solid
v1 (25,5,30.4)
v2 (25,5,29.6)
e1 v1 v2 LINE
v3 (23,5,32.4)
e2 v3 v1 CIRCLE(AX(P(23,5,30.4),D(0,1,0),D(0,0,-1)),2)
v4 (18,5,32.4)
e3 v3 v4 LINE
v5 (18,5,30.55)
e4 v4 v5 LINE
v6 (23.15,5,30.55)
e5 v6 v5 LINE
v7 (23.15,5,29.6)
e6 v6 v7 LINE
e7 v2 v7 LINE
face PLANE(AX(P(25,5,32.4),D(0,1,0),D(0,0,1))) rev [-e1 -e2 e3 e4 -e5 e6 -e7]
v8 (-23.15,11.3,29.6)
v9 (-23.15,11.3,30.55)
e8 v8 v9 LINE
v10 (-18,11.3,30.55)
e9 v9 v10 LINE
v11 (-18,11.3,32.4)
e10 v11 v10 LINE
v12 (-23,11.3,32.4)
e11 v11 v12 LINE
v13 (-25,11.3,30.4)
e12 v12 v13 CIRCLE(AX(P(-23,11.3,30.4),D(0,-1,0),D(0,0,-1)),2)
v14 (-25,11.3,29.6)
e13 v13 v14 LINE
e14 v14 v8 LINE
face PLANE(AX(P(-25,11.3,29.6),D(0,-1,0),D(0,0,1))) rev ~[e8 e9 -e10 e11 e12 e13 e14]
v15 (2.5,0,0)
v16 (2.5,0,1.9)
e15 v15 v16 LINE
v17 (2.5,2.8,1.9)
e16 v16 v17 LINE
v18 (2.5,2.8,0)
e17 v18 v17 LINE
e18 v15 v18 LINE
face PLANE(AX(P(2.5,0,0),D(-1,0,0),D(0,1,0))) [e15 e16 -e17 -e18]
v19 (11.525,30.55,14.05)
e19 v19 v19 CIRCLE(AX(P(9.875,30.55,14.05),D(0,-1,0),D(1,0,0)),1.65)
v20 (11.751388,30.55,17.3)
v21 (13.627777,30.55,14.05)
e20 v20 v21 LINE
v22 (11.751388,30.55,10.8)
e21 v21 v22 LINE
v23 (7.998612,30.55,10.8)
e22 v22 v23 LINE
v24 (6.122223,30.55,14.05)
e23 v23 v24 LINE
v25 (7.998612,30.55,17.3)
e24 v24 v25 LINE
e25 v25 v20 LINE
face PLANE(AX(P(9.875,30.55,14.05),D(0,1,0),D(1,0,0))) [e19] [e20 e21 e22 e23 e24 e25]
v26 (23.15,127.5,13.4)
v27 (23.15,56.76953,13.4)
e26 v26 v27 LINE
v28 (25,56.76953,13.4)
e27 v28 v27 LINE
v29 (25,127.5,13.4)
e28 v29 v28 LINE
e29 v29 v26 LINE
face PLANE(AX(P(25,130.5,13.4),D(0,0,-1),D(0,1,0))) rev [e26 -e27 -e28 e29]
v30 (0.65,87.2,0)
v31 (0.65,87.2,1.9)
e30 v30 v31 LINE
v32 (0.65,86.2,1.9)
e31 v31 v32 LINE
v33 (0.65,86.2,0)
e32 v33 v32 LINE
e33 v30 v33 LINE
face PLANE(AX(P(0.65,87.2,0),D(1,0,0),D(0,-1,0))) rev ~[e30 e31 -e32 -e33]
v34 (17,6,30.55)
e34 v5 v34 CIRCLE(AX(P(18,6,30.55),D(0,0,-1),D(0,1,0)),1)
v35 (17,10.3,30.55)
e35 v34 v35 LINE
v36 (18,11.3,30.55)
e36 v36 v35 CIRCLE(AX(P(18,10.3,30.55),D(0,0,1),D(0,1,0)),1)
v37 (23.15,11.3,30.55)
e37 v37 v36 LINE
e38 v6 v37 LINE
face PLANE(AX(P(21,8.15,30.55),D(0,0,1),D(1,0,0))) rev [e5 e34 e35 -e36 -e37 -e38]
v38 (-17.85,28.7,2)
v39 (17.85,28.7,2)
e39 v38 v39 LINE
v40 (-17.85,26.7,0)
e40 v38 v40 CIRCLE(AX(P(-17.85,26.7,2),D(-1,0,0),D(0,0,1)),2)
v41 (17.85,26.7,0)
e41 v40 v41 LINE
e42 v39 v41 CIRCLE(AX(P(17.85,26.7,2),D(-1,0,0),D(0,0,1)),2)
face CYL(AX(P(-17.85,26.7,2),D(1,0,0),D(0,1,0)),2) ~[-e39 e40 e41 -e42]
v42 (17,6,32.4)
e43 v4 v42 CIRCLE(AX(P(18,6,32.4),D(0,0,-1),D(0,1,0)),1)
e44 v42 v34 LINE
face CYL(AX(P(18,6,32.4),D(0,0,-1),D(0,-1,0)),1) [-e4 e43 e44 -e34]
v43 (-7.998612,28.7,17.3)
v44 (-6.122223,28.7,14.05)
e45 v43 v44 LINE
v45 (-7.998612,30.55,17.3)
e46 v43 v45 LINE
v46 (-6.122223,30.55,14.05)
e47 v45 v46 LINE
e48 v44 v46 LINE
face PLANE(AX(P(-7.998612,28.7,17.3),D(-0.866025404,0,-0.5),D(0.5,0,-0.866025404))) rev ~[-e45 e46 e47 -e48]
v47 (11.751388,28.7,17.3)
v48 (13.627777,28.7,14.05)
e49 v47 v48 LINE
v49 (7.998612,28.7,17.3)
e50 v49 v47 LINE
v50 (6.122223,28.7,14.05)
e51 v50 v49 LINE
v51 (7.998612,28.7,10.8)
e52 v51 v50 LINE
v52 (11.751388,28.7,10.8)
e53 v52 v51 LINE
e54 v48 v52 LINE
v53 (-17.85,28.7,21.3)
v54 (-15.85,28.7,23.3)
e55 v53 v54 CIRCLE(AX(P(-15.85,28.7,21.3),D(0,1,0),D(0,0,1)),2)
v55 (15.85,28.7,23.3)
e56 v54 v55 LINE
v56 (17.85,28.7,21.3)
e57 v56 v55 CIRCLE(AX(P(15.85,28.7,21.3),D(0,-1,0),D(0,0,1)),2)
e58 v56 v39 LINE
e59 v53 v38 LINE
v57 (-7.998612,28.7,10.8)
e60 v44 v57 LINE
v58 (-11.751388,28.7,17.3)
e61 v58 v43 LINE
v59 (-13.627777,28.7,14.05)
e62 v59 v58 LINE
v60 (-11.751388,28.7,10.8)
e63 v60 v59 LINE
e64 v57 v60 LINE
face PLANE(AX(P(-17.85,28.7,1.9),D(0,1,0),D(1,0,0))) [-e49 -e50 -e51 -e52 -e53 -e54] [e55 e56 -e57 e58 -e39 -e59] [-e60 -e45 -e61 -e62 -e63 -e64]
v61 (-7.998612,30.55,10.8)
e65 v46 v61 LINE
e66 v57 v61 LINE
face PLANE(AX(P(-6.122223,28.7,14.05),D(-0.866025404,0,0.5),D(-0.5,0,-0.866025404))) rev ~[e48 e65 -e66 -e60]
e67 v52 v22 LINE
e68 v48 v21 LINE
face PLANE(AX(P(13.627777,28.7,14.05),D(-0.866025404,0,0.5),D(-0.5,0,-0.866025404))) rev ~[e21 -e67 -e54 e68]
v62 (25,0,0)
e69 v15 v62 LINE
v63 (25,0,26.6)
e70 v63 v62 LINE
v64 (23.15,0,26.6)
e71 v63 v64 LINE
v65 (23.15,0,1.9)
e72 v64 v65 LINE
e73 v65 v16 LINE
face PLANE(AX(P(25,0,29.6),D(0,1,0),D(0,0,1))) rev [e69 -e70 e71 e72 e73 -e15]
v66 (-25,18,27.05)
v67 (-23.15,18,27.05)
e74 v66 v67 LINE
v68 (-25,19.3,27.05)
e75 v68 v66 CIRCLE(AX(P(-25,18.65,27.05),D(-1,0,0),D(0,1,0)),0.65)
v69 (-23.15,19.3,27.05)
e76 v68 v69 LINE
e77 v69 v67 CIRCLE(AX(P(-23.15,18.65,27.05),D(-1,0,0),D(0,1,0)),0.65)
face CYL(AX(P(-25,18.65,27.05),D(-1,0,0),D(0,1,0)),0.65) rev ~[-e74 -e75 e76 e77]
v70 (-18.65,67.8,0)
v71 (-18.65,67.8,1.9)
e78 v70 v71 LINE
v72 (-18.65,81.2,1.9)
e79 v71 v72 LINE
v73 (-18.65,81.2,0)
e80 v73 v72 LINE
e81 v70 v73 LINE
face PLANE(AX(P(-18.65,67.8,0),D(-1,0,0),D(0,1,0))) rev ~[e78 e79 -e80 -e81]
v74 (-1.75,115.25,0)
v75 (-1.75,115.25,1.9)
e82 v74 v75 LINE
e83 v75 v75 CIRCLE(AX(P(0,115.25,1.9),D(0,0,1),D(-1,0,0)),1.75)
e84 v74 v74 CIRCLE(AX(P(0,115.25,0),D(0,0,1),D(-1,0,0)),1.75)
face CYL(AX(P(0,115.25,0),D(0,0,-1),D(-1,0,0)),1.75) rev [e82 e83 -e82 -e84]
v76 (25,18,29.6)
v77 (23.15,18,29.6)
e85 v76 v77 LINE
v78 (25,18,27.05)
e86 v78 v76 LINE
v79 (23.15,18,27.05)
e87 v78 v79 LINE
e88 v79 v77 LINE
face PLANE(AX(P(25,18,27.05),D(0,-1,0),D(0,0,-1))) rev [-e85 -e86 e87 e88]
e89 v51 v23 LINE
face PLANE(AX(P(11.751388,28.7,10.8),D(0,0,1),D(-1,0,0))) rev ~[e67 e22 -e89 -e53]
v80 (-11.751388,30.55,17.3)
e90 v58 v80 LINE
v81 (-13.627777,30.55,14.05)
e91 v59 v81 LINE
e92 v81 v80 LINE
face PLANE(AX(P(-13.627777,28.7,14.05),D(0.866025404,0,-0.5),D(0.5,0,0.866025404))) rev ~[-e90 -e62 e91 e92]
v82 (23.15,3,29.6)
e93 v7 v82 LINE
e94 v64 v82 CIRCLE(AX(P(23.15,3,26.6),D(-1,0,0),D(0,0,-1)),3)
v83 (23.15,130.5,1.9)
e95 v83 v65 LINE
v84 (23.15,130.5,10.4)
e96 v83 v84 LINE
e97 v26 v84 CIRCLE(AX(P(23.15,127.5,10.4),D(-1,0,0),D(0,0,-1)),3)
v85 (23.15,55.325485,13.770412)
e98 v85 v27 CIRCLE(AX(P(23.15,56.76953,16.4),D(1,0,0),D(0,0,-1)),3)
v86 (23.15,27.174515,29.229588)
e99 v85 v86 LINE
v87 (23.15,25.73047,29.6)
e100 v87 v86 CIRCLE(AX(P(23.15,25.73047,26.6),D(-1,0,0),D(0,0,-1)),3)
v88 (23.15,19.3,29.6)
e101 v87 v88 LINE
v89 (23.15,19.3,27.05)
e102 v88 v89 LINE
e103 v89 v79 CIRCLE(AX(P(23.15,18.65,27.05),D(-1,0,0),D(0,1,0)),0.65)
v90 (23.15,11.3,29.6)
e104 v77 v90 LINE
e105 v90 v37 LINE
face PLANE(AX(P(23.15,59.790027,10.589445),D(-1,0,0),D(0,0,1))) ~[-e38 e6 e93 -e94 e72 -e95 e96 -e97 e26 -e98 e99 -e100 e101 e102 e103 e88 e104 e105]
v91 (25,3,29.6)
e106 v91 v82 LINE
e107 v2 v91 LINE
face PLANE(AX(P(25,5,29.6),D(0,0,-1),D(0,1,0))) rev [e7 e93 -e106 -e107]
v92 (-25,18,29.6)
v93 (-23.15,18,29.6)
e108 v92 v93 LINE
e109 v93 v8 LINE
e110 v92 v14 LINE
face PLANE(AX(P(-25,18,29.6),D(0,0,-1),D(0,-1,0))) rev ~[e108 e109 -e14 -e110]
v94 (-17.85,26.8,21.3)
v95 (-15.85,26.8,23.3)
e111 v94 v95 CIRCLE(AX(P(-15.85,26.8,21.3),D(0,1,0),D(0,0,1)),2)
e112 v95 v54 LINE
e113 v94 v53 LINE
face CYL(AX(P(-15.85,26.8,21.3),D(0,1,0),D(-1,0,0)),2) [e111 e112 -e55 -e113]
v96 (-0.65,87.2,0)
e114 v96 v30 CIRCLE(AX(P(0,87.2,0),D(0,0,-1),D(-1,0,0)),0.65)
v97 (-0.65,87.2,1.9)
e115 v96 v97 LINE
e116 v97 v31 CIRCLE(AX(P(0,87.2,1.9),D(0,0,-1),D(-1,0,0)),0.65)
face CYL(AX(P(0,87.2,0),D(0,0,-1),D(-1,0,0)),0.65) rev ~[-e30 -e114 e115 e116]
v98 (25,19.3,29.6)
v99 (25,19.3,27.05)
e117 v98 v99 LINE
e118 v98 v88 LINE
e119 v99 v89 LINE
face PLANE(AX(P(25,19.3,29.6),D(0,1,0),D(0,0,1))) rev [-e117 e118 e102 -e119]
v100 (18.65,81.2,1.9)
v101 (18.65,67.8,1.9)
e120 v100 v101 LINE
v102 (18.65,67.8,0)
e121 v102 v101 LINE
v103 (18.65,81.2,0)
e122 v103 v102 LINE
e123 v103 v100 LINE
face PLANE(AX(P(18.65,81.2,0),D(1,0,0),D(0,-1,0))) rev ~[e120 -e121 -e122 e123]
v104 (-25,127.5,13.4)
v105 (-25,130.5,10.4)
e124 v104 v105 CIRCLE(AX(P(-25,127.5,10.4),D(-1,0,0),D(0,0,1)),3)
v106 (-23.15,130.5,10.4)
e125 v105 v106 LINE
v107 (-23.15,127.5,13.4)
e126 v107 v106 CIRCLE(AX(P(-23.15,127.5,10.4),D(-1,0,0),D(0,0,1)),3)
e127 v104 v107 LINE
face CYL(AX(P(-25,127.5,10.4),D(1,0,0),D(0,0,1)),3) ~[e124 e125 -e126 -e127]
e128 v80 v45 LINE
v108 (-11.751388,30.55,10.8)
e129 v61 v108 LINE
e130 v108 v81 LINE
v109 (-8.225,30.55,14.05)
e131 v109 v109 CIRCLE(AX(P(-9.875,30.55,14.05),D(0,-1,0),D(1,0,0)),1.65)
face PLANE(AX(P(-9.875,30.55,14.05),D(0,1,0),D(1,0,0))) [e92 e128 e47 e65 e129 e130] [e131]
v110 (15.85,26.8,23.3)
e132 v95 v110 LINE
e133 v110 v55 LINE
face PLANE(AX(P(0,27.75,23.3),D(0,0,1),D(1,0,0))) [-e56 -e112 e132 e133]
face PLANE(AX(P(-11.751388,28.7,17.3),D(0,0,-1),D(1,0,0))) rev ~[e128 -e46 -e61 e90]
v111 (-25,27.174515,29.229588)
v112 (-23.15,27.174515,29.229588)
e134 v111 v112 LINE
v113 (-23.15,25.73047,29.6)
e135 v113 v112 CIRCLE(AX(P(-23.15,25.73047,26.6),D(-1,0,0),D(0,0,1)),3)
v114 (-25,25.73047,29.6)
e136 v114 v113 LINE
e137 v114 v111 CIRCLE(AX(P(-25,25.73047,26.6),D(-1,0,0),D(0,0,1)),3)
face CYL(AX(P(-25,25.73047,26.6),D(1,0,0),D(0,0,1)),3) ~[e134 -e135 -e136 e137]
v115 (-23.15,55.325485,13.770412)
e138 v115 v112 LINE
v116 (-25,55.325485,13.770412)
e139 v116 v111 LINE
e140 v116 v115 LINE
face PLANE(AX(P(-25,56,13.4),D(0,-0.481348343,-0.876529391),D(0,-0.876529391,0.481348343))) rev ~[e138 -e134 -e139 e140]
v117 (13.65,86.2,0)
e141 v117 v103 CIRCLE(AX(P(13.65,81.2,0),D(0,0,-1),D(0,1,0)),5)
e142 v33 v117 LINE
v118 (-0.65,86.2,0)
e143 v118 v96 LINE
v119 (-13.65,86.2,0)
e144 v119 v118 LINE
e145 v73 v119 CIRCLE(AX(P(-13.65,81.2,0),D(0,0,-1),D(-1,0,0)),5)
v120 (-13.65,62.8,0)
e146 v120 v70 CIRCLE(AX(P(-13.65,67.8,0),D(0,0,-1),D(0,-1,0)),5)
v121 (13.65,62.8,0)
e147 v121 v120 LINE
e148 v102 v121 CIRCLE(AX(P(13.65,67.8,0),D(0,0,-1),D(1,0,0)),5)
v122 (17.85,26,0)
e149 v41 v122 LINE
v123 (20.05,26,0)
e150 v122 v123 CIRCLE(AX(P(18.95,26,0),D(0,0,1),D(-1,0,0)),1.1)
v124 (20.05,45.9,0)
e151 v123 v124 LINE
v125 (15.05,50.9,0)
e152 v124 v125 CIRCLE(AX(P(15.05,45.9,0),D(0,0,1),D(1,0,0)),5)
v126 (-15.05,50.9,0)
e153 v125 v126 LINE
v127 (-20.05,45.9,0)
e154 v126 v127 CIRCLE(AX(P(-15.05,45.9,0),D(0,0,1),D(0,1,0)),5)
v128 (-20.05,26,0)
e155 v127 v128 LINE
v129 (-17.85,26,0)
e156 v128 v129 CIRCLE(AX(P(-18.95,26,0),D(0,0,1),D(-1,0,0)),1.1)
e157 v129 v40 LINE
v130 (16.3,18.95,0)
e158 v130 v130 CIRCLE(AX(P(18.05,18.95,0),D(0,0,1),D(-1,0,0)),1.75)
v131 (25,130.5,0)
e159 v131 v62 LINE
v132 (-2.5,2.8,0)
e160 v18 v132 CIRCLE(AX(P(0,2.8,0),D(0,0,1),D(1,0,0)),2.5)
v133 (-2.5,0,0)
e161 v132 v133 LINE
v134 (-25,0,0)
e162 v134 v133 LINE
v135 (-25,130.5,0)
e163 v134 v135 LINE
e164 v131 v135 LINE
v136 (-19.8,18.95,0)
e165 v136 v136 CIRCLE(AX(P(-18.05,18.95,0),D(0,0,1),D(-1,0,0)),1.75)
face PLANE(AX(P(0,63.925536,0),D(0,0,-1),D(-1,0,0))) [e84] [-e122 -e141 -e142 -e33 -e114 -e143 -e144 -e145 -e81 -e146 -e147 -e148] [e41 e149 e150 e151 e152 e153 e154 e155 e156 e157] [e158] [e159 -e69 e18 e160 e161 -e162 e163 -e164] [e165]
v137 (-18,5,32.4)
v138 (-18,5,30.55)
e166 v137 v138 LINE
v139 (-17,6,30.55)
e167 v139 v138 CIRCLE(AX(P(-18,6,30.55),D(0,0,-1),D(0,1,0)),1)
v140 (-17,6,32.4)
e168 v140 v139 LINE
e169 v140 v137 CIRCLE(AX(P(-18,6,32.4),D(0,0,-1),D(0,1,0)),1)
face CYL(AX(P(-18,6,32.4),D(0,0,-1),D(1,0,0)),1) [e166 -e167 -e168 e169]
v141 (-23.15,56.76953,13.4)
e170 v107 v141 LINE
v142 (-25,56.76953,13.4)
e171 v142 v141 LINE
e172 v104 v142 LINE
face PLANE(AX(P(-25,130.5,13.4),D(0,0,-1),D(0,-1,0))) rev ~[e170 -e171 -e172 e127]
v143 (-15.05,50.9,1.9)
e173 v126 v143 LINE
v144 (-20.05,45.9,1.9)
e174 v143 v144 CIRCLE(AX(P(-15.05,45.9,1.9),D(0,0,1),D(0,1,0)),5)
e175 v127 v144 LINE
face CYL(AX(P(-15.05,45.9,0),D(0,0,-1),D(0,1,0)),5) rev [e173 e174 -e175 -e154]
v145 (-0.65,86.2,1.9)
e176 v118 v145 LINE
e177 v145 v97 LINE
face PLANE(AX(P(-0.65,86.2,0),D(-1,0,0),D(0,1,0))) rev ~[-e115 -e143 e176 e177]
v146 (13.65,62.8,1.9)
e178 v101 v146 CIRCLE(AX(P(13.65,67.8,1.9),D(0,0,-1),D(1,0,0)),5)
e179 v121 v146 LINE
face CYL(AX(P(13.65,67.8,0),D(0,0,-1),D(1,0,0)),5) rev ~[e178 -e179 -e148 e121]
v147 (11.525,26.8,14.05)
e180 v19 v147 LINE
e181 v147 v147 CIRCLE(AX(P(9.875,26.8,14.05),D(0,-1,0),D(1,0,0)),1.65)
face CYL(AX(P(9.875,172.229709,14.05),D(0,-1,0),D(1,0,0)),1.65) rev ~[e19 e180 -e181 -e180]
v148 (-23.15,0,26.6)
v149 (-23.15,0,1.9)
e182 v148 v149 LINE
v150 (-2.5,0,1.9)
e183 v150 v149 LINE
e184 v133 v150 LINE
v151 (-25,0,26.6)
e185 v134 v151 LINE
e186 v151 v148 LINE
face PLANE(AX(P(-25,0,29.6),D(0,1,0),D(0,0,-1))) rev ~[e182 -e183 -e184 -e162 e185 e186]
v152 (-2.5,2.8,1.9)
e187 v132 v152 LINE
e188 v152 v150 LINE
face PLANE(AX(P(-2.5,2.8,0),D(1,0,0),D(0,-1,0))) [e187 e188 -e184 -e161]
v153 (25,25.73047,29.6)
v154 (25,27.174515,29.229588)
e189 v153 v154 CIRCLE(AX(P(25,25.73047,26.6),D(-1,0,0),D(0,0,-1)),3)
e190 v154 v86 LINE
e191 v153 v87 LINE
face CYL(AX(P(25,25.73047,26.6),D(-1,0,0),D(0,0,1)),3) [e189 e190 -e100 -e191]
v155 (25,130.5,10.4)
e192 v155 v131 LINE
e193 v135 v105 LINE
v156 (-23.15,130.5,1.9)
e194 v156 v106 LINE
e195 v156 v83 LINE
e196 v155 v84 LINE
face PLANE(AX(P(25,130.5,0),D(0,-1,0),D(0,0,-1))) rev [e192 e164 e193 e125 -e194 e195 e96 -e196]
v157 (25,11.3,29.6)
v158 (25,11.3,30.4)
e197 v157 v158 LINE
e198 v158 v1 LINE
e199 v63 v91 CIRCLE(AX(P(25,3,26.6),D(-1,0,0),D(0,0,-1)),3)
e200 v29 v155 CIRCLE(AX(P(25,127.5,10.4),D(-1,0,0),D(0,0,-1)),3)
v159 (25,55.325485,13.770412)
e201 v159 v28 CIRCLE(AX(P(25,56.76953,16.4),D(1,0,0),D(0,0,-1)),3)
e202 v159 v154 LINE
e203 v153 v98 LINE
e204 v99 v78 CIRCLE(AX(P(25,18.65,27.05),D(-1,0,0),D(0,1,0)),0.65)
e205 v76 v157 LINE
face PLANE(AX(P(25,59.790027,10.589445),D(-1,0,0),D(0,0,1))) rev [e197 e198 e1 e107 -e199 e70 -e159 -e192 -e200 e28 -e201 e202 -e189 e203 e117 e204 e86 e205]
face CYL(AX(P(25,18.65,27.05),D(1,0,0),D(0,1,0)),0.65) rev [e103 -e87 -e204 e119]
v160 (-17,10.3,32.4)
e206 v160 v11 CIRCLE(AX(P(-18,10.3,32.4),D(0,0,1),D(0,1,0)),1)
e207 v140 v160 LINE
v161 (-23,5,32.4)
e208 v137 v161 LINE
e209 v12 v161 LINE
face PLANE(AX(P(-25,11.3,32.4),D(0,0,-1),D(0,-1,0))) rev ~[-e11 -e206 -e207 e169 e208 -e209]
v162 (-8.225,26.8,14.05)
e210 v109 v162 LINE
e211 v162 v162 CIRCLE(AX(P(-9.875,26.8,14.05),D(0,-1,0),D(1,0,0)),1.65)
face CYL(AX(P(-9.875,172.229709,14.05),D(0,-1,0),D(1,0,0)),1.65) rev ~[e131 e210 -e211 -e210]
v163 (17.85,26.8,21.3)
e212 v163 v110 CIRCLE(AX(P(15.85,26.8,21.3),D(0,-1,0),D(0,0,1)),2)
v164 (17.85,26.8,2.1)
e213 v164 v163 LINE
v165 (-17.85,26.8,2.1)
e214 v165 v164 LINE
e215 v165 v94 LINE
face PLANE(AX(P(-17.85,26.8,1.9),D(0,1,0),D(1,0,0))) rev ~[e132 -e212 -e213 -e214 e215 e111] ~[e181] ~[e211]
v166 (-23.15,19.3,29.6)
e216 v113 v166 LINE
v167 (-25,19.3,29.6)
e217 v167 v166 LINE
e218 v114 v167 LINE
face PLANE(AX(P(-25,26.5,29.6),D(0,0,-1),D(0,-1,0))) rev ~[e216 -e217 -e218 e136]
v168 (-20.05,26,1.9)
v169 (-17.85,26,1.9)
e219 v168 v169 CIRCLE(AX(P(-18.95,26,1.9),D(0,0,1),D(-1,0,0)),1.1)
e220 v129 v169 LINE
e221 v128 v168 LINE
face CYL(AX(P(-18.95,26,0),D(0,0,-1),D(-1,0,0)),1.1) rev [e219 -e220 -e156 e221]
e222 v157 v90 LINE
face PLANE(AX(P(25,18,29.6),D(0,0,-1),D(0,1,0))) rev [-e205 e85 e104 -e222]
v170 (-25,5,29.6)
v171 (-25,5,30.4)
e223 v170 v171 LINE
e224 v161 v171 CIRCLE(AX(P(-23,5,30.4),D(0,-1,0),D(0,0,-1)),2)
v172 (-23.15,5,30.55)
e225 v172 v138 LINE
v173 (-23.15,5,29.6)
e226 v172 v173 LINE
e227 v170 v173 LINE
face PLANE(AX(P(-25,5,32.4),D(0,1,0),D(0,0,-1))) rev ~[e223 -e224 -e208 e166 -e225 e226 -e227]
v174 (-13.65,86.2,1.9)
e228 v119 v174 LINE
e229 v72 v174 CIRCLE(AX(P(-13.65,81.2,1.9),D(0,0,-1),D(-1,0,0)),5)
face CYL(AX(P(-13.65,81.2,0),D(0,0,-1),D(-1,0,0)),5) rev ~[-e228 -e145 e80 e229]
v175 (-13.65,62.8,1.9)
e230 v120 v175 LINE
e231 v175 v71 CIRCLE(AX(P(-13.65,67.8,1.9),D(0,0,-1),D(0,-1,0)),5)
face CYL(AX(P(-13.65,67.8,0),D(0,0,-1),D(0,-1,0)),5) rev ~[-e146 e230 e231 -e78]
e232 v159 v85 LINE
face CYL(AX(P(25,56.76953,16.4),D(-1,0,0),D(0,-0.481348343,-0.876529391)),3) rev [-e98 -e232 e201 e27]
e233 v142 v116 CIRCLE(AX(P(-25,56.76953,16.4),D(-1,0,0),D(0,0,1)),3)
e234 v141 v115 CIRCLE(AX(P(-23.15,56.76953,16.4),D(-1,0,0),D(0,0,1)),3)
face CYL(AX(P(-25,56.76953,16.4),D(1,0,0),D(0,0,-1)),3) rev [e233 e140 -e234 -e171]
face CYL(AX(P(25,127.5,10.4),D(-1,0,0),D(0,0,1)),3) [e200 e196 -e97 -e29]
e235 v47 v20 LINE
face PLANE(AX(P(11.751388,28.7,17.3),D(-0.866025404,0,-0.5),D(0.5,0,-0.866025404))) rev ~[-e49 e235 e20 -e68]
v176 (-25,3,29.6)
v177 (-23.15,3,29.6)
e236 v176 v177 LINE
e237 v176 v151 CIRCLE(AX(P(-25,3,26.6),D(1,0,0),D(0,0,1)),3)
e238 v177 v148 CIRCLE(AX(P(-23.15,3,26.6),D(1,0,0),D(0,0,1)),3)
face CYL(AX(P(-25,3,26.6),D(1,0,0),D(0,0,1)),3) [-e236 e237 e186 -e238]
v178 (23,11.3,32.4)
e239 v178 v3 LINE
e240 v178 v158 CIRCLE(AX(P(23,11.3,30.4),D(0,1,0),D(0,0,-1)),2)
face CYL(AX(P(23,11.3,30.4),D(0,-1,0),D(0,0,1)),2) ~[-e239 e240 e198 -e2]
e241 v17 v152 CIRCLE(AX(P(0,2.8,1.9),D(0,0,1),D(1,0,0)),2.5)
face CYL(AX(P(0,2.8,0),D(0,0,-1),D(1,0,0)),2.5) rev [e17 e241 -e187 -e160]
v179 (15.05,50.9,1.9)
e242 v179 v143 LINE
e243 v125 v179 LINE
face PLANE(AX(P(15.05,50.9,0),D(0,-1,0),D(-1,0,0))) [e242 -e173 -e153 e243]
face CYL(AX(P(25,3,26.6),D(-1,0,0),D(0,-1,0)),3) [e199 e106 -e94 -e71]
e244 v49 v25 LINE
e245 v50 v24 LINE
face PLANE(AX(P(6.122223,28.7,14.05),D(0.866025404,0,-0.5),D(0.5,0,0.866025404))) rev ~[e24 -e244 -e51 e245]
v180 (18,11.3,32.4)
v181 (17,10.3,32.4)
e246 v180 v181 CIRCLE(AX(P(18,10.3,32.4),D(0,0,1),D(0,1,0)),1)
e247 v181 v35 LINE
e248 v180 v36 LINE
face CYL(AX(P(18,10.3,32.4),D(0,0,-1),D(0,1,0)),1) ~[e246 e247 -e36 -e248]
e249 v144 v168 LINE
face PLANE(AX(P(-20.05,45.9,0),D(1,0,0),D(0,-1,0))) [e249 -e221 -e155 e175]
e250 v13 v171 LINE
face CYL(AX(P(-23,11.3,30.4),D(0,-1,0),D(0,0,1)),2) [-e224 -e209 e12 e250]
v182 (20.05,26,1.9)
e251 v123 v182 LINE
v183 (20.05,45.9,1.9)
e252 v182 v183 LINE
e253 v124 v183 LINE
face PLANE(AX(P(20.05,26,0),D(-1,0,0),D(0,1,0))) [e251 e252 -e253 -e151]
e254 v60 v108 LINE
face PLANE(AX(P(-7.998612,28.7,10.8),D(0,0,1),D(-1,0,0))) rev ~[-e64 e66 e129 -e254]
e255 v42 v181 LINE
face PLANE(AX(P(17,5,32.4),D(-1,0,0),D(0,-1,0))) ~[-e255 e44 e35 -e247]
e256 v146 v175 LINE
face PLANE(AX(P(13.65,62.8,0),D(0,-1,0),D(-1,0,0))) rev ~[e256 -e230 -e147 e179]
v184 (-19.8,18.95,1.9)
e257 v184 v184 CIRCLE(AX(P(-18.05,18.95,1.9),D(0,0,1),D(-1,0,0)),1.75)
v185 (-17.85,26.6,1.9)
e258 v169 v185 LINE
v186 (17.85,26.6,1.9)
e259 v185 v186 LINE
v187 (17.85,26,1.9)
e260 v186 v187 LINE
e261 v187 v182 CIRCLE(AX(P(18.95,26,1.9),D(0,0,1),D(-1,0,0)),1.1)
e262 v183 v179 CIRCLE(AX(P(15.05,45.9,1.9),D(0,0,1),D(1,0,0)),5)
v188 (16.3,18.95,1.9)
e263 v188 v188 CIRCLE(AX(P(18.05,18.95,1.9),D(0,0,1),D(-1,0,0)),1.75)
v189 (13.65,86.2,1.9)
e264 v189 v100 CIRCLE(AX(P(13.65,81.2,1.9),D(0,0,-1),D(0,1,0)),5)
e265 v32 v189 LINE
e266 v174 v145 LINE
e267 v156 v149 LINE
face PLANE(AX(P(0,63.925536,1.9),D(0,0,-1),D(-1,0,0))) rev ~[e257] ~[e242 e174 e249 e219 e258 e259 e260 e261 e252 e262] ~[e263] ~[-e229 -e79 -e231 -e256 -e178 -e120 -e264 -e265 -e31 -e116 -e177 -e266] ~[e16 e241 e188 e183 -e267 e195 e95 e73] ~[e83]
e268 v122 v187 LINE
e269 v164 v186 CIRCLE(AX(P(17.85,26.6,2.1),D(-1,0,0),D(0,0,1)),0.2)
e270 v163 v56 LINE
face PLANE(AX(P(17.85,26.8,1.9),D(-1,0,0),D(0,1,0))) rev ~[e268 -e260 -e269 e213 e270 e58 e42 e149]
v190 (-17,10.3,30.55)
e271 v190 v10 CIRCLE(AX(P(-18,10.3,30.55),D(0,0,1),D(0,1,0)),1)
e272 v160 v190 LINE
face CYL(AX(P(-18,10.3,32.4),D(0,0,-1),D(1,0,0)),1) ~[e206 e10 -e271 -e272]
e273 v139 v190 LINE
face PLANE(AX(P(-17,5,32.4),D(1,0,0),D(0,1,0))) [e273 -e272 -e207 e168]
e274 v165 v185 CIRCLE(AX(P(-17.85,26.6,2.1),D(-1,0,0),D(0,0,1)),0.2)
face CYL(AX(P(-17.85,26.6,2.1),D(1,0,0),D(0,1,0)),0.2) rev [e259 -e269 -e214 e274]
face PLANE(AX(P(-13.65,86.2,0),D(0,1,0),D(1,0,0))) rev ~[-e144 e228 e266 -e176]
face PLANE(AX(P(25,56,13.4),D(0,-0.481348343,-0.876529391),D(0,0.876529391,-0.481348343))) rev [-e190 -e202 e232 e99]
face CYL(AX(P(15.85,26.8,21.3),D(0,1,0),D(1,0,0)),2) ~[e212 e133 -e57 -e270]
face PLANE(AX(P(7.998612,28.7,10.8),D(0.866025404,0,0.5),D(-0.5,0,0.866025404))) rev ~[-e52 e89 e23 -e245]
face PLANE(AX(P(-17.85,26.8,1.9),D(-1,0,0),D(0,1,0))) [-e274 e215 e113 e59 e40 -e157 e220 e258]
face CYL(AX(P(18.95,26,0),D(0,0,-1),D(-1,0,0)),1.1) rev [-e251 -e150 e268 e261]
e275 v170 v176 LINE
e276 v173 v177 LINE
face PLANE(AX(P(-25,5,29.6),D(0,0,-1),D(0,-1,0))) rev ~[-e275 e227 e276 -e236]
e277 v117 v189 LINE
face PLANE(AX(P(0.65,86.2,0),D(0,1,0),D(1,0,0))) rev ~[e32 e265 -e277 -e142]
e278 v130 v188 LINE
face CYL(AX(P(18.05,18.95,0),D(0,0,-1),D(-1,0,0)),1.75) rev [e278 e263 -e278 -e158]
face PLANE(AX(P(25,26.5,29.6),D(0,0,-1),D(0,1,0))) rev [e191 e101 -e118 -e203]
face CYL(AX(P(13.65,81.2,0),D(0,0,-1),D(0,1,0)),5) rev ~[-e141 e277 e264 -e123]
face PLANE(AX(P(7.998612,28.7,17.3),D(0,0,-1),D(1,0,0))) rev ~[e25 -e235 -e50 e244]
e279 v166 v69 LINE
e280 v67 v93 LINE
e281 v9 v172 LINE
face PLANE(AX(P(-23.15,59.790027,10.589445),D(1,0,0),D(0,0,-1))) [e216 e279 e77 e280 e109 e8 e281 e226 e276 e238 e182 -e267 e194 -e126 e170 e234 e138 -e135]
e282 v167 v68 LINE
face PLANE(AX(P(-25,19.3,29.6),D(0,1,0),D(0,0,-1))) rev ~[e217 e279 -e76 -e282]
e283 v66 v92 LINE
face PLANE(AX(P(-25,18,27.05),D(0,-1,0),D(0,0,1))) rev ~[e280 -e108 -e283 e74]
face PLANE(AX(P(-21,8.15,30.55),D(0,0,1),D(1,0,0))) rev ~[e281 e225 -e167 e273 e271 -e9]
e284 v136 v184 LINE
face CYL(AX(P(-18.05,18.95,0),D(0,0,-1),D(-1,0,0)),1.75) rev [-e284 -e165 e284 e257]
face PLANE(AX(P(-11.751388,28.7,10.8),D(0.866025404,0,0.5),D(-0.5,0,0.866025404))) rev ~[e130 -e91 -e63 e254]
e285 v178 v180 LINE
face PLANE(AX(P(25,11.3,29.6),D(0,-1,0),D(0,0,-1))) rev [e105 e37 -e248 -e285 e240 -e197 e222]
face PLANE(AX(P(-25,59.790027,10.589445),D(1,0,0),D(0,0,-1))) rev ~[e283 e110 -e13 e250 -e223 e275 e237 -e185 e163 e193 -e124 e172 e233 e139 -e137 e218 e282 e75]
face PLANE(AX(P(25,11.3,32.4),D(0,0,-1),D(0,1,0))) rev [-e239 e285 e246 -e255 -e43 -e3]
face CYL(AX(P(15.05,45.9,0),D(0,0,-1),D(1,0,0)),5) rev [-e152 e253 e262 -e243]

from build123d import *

# Parameters (mm, degrees)
ESQUISSE1_R           = 1.75
BOSS_EXTRU_1_DEPTH    = 1.9
ESQUISSE2_W           = 35.7
ESQUISSE2_H           = 1.9
BOSS_EXTRU_2_DEPTH    = 21.4
CONG_1_R              = 2
CONG_2_R              = 0.2
CONG_3_R              = 2
BOSS_EXTRU_3_DEPTH    = 1.85
TROU_TARAUD_M41_D     = 3.3
BOSS_EXTRU_4_DEPTH    = 1.85
CONG_4_R              = 3
ESQUISSE7_W           = 8
ESQUISSE7_H           = 6.3
BOSS_EXTRU_5_DEPTH    = 1.85
CONG_5_R              = 1
CONG_6_R              = 2
CONG_4_OF_SYM_TRIE1_R = 3
CONG_5_OF_SYM_TRIE1_R = 1
CONG_6_OF_SYM_TRIE1_R = 2


with BuildPart() as part:
    # Esquisse1 → Boss.-Extru.1 (new body)
    with BuildSketch(Plane.XY):
        with BuildLine():
            Line((25, 0), (2.5, 0))
            Line((2.5, 0), (2.5, 2.8))
            ThreePointArc((2.5, 2.8), (0, 5.3), (-2.5, 2.8))
            Line((-2.5, 2.8), (-2.5, 0))
            Line((-2.5, 0), (-25, 0))
            Line((-25, 0), (-25, 130.5))
            Line((-25, 130.5), (25, 130.5))
            Line((25, 130.5), (25, 0))
        make_face()
        with Locations(Location((-18.05, 18.95, 0), (0, 0, 180))):
            Circle(ESQUISSE1_R, mode=Mode.SUBTRACT)
        with Locations(Location((18.05, 18.95, 0), (0, 0, 180))):
            Circle(ESQUISSE1_R, mode=Mode.SUBTRACT)
        with Locations(Location((0, 115.25, 0), (0, 0, 180))):
            Circle(ESQUISSE1_R, mode=Mode.SUBTRACT)
        with BuildLine():
            Line((-17.85, 26), (-17.85, 28.7))
            Line((-17.85, 28.7), (17.85, 28.7))
            Line((17.85, 28.7), (17.85, 26))
            ThreePointArc((17.85, 26), (18.95, 24.9), (20.05, 26))
            Line((20.05, 26), (20.05, 45.9))
            ThreePointArc((20.05, 45.9), (18.585533906, 49.435533906), (15.05, 50.9))
            Line((15.05, 50.9), (-15.05, 50.9))
            ThreePointArc((-15.05, 50.9), (-18.585533906, 49.435533906), (-20.05, 45.9))
            Line((-20.05, 45.9), (-20.05, 26))
            ThreePointArc((-20.05, 26), (-18.95, 24.9), (-17.85, 26))
        make_face(mode=Mode.SUBTRACT)
        with BuildLine():
            Line((-13.65, 86.2), (-0.65, 86.2))
            Line((-0.65, 86.2), (-0.65, 87.2))
            ThreePointArc((-0.65, 87.2), (0, 87.85), (0.65, 87.2))
            Line((0.65, 87.2), (0.65, 86.2))
            Line((0.65, 86.2), (13.65, 86.2))
            ThreePointArc((13.65, 86.2), (17.185533906, 84.735533906), (18.65, 81.2))
            Line((18.65, 81.2), (18.65, 67.8))
            ThreePointArc((18.65, 67.8), (17.185533906, 64.264466094), (13.65, 62.8))
            Line((13.65, 62.8), (-13.65, 62.8))
            ThreePointArc((-13.65, 62.8), (-17.185533906, 64.264466094), (-18.65, 67.8))
            Line((-18.65, 67.8), (-18.65, 81.2))
            ThreePointArc((-18.65, 81.2), (-17.185533906, 84.735533906), (-13.65, 86.2))
        make_face(mode=Mode.SUBTRACT)
    extrude(amount=BOSS_EXTRU_1_DEPTH)

    # Esquisse2 → Boss.-Extru.2 (add)
    with BuildSketch(Plane.XY.offset(1.9)):
        with Locations((0, 27.75)):
            Rectangle(ESQUISSE2_W, ESQUISSE2_H)
    extrude(amount=BOSS_EXTRU_2_DEPTH)

    # Congé1
    cong_1_edges = [part.edges().sort_by_distance(p)[0] for p in [
        (-17.85, 27.75, 23.3),
        (17.85, 27.75, 23.3),
    ]]
    fillet(cong_1_edges, radius=CONG_1_R)

    # Congé2
    cong_2_edges = [part.edges().sort_by_distance(p)[0] for p in [
        (0, 26.8, 1.9),
    ]]
    fillet(cong_2_edges, radius=CONG_2_R)

    # Congé3
    cong_3_edges = [part.edges().sort_by_distance(p)[0] for p in [
        (0, 28.7, 0),
    ]]
    fillet(cong_3_edges, radius=CONG_3_R)

    # Esquisse3 → Boss.-Extru.3 (add)
    with BuildSketch(Plane(origin=(0, 28.7, 0), x_dir=(1, 0, 0), z_dir=(0, 1, 0))):
        Polygon((6.12222325, -14.05), (7.998611625, -17.3), (11.751388375, -17.3), (13.62777675, -14.05), (11.751388375, -10.8), (7.998611625, -10.8), align=None)
        Polygon((-6.12222325, -14.05), (-7.998611625, -10.8), (-11.751388375, -10.8), (-13.62777675, -14.05), (-11.751388375, -17.3), (-7.998611625, -17.3), align=None)
    extrude(amount=BOSS_EXTRU_3_DEPTH)

    # Trou taraudé M41 (through all)
    with Locations(Plane(origin=(0, 30.55, 0), x_dir=(-1, 0, 0), z_dir=(0, 1, 0))):
        with Locations((-9.875, 14.05), (9.875, 14.05)):
            Hole(TROU_TARAUD_M41_D / 2)

    # Esquisse6 → Boss.-Extru.4 (add)
    with BuildSketch(Plane.ZY.offset(25)):
        with BuildLine():
            Line((13.4, 130.5), (13.4, 56))
            Line((13.4, 56), (29.6, 26.5))
            Line((29.6, 26.5), (29.6, 19.3))
            Line((29.6, 19.3), (27.05, 19.3))
            ThreePointArc((27.05, 19.3), (26.4, 18.65), (27.05, 18))
            Line((27.05, 18), (29.6, 18))
            Line((29.6, 18), (29.6, 11.3))
            Line((29.6, 11.3), (32.4, 11.3))
            Line((32.4, 11.3), (32.4, 5))
            Line((32.4, 5), (29.6, 5))
            Line((29.6, 5), (29.6, 0))
            Line((29.6, 0), (0, 0))
            Line((0, 0), (0, 130.5))
            Line((0, 130.5), (13.4, 130.5))
        make_face()
    boss_extru_4 = extrude(amount=-BOSS_EXTRU_4_DEPTH)

    # Congé4
    cong_4_edges = [part.edges().sort_by_distance(p)[0] for p in [
        (-24.075, 130.5, 13.4),
        (-24.075, 56, 13.4),
        (-24.075, 26.5, 29.6),
        (-24.075, 0, 29.6),
    ]]
    fillet(cong_4_edges, radius=CONG_4_R)

    # Esquisse7 → Boss.-Extru.5 (add)
    with BuildSketch(Plane.XY.offset(32.4)):
        with Locations((-21, 8.15)):
            Rectangle(ESQUISSE7_W, ESQUISSE7_H)
    boss_extru_5 = extrude(amount=-BOSS_EXTRU_5_DEPTH)

    # Congé5
    cong_5_edges = [part.edges().sort_by_distance(p)[0] for p in [
        (-17, 5, 31.475),
        (-17, 11.3, 31.475),
    ]]
    fillet(cong_5_edges, radius=CONG_5_R)

    # Congé6
    cong_6_edges = [part.edges().sort_by_distance(p)[0] for p in [
        (-25, 8.15, 32.4),
    ]]
    fillet(cong_6_edges, radius=CONG_6_R)

    # Symétrie1: Boss.-Extru.4, Boss.-Extru.5 across plane
    add(boss_extru_4.mirror(Plane(origin=(0, 0, 0), x_dir=(0, 0, 1), z_dir=(1, 0, 0))))
    add(boss_extru_5.mirror(Plane(origin=(0, 0, 0), x_dir=(0, 0, 1), z_dir=(1, 0, 0))))

    # Congé4 of Symétrie1
    cong_4_of_sym_trie1_edges = [part.edges().sort_by_distance(p)[0] for p in [
        (24.075, 130.5, 13.4),
        (24.075, 56, 13.4),
        (24.075, 26.5, 29.6),
        (24.075, 0, 29.6),
    ]]
    fillet(cong_4_of_sym_trie1_edges, radius=CONG_4_OF_SYM_TRIE1_R)

    # Congé5 of Symétrie1
    cong_5_of_sym_trie1_edges = [part.edges().sort_by_distance(p)[0] for p in [
        (17, 5, 31.475),
        (17, 11.3, 31.475),
    ]]
    fillet(cong_5_of_sym_trie1_edges, radius=CONG_5_OF_SYM_TRIE1_R)

    # Congé6 of Symétrie1
    cong_6_of_sym_trie1_edges = [part.edges().sort_by_distance(p)[0] for p in [
        (25, 8.15, 32.4),
    ]]
    fillet(cong_6_of_sym_trie1_edges, radius=CONG_6_OF_SYM_TRIE1_R)


solid = part.part
